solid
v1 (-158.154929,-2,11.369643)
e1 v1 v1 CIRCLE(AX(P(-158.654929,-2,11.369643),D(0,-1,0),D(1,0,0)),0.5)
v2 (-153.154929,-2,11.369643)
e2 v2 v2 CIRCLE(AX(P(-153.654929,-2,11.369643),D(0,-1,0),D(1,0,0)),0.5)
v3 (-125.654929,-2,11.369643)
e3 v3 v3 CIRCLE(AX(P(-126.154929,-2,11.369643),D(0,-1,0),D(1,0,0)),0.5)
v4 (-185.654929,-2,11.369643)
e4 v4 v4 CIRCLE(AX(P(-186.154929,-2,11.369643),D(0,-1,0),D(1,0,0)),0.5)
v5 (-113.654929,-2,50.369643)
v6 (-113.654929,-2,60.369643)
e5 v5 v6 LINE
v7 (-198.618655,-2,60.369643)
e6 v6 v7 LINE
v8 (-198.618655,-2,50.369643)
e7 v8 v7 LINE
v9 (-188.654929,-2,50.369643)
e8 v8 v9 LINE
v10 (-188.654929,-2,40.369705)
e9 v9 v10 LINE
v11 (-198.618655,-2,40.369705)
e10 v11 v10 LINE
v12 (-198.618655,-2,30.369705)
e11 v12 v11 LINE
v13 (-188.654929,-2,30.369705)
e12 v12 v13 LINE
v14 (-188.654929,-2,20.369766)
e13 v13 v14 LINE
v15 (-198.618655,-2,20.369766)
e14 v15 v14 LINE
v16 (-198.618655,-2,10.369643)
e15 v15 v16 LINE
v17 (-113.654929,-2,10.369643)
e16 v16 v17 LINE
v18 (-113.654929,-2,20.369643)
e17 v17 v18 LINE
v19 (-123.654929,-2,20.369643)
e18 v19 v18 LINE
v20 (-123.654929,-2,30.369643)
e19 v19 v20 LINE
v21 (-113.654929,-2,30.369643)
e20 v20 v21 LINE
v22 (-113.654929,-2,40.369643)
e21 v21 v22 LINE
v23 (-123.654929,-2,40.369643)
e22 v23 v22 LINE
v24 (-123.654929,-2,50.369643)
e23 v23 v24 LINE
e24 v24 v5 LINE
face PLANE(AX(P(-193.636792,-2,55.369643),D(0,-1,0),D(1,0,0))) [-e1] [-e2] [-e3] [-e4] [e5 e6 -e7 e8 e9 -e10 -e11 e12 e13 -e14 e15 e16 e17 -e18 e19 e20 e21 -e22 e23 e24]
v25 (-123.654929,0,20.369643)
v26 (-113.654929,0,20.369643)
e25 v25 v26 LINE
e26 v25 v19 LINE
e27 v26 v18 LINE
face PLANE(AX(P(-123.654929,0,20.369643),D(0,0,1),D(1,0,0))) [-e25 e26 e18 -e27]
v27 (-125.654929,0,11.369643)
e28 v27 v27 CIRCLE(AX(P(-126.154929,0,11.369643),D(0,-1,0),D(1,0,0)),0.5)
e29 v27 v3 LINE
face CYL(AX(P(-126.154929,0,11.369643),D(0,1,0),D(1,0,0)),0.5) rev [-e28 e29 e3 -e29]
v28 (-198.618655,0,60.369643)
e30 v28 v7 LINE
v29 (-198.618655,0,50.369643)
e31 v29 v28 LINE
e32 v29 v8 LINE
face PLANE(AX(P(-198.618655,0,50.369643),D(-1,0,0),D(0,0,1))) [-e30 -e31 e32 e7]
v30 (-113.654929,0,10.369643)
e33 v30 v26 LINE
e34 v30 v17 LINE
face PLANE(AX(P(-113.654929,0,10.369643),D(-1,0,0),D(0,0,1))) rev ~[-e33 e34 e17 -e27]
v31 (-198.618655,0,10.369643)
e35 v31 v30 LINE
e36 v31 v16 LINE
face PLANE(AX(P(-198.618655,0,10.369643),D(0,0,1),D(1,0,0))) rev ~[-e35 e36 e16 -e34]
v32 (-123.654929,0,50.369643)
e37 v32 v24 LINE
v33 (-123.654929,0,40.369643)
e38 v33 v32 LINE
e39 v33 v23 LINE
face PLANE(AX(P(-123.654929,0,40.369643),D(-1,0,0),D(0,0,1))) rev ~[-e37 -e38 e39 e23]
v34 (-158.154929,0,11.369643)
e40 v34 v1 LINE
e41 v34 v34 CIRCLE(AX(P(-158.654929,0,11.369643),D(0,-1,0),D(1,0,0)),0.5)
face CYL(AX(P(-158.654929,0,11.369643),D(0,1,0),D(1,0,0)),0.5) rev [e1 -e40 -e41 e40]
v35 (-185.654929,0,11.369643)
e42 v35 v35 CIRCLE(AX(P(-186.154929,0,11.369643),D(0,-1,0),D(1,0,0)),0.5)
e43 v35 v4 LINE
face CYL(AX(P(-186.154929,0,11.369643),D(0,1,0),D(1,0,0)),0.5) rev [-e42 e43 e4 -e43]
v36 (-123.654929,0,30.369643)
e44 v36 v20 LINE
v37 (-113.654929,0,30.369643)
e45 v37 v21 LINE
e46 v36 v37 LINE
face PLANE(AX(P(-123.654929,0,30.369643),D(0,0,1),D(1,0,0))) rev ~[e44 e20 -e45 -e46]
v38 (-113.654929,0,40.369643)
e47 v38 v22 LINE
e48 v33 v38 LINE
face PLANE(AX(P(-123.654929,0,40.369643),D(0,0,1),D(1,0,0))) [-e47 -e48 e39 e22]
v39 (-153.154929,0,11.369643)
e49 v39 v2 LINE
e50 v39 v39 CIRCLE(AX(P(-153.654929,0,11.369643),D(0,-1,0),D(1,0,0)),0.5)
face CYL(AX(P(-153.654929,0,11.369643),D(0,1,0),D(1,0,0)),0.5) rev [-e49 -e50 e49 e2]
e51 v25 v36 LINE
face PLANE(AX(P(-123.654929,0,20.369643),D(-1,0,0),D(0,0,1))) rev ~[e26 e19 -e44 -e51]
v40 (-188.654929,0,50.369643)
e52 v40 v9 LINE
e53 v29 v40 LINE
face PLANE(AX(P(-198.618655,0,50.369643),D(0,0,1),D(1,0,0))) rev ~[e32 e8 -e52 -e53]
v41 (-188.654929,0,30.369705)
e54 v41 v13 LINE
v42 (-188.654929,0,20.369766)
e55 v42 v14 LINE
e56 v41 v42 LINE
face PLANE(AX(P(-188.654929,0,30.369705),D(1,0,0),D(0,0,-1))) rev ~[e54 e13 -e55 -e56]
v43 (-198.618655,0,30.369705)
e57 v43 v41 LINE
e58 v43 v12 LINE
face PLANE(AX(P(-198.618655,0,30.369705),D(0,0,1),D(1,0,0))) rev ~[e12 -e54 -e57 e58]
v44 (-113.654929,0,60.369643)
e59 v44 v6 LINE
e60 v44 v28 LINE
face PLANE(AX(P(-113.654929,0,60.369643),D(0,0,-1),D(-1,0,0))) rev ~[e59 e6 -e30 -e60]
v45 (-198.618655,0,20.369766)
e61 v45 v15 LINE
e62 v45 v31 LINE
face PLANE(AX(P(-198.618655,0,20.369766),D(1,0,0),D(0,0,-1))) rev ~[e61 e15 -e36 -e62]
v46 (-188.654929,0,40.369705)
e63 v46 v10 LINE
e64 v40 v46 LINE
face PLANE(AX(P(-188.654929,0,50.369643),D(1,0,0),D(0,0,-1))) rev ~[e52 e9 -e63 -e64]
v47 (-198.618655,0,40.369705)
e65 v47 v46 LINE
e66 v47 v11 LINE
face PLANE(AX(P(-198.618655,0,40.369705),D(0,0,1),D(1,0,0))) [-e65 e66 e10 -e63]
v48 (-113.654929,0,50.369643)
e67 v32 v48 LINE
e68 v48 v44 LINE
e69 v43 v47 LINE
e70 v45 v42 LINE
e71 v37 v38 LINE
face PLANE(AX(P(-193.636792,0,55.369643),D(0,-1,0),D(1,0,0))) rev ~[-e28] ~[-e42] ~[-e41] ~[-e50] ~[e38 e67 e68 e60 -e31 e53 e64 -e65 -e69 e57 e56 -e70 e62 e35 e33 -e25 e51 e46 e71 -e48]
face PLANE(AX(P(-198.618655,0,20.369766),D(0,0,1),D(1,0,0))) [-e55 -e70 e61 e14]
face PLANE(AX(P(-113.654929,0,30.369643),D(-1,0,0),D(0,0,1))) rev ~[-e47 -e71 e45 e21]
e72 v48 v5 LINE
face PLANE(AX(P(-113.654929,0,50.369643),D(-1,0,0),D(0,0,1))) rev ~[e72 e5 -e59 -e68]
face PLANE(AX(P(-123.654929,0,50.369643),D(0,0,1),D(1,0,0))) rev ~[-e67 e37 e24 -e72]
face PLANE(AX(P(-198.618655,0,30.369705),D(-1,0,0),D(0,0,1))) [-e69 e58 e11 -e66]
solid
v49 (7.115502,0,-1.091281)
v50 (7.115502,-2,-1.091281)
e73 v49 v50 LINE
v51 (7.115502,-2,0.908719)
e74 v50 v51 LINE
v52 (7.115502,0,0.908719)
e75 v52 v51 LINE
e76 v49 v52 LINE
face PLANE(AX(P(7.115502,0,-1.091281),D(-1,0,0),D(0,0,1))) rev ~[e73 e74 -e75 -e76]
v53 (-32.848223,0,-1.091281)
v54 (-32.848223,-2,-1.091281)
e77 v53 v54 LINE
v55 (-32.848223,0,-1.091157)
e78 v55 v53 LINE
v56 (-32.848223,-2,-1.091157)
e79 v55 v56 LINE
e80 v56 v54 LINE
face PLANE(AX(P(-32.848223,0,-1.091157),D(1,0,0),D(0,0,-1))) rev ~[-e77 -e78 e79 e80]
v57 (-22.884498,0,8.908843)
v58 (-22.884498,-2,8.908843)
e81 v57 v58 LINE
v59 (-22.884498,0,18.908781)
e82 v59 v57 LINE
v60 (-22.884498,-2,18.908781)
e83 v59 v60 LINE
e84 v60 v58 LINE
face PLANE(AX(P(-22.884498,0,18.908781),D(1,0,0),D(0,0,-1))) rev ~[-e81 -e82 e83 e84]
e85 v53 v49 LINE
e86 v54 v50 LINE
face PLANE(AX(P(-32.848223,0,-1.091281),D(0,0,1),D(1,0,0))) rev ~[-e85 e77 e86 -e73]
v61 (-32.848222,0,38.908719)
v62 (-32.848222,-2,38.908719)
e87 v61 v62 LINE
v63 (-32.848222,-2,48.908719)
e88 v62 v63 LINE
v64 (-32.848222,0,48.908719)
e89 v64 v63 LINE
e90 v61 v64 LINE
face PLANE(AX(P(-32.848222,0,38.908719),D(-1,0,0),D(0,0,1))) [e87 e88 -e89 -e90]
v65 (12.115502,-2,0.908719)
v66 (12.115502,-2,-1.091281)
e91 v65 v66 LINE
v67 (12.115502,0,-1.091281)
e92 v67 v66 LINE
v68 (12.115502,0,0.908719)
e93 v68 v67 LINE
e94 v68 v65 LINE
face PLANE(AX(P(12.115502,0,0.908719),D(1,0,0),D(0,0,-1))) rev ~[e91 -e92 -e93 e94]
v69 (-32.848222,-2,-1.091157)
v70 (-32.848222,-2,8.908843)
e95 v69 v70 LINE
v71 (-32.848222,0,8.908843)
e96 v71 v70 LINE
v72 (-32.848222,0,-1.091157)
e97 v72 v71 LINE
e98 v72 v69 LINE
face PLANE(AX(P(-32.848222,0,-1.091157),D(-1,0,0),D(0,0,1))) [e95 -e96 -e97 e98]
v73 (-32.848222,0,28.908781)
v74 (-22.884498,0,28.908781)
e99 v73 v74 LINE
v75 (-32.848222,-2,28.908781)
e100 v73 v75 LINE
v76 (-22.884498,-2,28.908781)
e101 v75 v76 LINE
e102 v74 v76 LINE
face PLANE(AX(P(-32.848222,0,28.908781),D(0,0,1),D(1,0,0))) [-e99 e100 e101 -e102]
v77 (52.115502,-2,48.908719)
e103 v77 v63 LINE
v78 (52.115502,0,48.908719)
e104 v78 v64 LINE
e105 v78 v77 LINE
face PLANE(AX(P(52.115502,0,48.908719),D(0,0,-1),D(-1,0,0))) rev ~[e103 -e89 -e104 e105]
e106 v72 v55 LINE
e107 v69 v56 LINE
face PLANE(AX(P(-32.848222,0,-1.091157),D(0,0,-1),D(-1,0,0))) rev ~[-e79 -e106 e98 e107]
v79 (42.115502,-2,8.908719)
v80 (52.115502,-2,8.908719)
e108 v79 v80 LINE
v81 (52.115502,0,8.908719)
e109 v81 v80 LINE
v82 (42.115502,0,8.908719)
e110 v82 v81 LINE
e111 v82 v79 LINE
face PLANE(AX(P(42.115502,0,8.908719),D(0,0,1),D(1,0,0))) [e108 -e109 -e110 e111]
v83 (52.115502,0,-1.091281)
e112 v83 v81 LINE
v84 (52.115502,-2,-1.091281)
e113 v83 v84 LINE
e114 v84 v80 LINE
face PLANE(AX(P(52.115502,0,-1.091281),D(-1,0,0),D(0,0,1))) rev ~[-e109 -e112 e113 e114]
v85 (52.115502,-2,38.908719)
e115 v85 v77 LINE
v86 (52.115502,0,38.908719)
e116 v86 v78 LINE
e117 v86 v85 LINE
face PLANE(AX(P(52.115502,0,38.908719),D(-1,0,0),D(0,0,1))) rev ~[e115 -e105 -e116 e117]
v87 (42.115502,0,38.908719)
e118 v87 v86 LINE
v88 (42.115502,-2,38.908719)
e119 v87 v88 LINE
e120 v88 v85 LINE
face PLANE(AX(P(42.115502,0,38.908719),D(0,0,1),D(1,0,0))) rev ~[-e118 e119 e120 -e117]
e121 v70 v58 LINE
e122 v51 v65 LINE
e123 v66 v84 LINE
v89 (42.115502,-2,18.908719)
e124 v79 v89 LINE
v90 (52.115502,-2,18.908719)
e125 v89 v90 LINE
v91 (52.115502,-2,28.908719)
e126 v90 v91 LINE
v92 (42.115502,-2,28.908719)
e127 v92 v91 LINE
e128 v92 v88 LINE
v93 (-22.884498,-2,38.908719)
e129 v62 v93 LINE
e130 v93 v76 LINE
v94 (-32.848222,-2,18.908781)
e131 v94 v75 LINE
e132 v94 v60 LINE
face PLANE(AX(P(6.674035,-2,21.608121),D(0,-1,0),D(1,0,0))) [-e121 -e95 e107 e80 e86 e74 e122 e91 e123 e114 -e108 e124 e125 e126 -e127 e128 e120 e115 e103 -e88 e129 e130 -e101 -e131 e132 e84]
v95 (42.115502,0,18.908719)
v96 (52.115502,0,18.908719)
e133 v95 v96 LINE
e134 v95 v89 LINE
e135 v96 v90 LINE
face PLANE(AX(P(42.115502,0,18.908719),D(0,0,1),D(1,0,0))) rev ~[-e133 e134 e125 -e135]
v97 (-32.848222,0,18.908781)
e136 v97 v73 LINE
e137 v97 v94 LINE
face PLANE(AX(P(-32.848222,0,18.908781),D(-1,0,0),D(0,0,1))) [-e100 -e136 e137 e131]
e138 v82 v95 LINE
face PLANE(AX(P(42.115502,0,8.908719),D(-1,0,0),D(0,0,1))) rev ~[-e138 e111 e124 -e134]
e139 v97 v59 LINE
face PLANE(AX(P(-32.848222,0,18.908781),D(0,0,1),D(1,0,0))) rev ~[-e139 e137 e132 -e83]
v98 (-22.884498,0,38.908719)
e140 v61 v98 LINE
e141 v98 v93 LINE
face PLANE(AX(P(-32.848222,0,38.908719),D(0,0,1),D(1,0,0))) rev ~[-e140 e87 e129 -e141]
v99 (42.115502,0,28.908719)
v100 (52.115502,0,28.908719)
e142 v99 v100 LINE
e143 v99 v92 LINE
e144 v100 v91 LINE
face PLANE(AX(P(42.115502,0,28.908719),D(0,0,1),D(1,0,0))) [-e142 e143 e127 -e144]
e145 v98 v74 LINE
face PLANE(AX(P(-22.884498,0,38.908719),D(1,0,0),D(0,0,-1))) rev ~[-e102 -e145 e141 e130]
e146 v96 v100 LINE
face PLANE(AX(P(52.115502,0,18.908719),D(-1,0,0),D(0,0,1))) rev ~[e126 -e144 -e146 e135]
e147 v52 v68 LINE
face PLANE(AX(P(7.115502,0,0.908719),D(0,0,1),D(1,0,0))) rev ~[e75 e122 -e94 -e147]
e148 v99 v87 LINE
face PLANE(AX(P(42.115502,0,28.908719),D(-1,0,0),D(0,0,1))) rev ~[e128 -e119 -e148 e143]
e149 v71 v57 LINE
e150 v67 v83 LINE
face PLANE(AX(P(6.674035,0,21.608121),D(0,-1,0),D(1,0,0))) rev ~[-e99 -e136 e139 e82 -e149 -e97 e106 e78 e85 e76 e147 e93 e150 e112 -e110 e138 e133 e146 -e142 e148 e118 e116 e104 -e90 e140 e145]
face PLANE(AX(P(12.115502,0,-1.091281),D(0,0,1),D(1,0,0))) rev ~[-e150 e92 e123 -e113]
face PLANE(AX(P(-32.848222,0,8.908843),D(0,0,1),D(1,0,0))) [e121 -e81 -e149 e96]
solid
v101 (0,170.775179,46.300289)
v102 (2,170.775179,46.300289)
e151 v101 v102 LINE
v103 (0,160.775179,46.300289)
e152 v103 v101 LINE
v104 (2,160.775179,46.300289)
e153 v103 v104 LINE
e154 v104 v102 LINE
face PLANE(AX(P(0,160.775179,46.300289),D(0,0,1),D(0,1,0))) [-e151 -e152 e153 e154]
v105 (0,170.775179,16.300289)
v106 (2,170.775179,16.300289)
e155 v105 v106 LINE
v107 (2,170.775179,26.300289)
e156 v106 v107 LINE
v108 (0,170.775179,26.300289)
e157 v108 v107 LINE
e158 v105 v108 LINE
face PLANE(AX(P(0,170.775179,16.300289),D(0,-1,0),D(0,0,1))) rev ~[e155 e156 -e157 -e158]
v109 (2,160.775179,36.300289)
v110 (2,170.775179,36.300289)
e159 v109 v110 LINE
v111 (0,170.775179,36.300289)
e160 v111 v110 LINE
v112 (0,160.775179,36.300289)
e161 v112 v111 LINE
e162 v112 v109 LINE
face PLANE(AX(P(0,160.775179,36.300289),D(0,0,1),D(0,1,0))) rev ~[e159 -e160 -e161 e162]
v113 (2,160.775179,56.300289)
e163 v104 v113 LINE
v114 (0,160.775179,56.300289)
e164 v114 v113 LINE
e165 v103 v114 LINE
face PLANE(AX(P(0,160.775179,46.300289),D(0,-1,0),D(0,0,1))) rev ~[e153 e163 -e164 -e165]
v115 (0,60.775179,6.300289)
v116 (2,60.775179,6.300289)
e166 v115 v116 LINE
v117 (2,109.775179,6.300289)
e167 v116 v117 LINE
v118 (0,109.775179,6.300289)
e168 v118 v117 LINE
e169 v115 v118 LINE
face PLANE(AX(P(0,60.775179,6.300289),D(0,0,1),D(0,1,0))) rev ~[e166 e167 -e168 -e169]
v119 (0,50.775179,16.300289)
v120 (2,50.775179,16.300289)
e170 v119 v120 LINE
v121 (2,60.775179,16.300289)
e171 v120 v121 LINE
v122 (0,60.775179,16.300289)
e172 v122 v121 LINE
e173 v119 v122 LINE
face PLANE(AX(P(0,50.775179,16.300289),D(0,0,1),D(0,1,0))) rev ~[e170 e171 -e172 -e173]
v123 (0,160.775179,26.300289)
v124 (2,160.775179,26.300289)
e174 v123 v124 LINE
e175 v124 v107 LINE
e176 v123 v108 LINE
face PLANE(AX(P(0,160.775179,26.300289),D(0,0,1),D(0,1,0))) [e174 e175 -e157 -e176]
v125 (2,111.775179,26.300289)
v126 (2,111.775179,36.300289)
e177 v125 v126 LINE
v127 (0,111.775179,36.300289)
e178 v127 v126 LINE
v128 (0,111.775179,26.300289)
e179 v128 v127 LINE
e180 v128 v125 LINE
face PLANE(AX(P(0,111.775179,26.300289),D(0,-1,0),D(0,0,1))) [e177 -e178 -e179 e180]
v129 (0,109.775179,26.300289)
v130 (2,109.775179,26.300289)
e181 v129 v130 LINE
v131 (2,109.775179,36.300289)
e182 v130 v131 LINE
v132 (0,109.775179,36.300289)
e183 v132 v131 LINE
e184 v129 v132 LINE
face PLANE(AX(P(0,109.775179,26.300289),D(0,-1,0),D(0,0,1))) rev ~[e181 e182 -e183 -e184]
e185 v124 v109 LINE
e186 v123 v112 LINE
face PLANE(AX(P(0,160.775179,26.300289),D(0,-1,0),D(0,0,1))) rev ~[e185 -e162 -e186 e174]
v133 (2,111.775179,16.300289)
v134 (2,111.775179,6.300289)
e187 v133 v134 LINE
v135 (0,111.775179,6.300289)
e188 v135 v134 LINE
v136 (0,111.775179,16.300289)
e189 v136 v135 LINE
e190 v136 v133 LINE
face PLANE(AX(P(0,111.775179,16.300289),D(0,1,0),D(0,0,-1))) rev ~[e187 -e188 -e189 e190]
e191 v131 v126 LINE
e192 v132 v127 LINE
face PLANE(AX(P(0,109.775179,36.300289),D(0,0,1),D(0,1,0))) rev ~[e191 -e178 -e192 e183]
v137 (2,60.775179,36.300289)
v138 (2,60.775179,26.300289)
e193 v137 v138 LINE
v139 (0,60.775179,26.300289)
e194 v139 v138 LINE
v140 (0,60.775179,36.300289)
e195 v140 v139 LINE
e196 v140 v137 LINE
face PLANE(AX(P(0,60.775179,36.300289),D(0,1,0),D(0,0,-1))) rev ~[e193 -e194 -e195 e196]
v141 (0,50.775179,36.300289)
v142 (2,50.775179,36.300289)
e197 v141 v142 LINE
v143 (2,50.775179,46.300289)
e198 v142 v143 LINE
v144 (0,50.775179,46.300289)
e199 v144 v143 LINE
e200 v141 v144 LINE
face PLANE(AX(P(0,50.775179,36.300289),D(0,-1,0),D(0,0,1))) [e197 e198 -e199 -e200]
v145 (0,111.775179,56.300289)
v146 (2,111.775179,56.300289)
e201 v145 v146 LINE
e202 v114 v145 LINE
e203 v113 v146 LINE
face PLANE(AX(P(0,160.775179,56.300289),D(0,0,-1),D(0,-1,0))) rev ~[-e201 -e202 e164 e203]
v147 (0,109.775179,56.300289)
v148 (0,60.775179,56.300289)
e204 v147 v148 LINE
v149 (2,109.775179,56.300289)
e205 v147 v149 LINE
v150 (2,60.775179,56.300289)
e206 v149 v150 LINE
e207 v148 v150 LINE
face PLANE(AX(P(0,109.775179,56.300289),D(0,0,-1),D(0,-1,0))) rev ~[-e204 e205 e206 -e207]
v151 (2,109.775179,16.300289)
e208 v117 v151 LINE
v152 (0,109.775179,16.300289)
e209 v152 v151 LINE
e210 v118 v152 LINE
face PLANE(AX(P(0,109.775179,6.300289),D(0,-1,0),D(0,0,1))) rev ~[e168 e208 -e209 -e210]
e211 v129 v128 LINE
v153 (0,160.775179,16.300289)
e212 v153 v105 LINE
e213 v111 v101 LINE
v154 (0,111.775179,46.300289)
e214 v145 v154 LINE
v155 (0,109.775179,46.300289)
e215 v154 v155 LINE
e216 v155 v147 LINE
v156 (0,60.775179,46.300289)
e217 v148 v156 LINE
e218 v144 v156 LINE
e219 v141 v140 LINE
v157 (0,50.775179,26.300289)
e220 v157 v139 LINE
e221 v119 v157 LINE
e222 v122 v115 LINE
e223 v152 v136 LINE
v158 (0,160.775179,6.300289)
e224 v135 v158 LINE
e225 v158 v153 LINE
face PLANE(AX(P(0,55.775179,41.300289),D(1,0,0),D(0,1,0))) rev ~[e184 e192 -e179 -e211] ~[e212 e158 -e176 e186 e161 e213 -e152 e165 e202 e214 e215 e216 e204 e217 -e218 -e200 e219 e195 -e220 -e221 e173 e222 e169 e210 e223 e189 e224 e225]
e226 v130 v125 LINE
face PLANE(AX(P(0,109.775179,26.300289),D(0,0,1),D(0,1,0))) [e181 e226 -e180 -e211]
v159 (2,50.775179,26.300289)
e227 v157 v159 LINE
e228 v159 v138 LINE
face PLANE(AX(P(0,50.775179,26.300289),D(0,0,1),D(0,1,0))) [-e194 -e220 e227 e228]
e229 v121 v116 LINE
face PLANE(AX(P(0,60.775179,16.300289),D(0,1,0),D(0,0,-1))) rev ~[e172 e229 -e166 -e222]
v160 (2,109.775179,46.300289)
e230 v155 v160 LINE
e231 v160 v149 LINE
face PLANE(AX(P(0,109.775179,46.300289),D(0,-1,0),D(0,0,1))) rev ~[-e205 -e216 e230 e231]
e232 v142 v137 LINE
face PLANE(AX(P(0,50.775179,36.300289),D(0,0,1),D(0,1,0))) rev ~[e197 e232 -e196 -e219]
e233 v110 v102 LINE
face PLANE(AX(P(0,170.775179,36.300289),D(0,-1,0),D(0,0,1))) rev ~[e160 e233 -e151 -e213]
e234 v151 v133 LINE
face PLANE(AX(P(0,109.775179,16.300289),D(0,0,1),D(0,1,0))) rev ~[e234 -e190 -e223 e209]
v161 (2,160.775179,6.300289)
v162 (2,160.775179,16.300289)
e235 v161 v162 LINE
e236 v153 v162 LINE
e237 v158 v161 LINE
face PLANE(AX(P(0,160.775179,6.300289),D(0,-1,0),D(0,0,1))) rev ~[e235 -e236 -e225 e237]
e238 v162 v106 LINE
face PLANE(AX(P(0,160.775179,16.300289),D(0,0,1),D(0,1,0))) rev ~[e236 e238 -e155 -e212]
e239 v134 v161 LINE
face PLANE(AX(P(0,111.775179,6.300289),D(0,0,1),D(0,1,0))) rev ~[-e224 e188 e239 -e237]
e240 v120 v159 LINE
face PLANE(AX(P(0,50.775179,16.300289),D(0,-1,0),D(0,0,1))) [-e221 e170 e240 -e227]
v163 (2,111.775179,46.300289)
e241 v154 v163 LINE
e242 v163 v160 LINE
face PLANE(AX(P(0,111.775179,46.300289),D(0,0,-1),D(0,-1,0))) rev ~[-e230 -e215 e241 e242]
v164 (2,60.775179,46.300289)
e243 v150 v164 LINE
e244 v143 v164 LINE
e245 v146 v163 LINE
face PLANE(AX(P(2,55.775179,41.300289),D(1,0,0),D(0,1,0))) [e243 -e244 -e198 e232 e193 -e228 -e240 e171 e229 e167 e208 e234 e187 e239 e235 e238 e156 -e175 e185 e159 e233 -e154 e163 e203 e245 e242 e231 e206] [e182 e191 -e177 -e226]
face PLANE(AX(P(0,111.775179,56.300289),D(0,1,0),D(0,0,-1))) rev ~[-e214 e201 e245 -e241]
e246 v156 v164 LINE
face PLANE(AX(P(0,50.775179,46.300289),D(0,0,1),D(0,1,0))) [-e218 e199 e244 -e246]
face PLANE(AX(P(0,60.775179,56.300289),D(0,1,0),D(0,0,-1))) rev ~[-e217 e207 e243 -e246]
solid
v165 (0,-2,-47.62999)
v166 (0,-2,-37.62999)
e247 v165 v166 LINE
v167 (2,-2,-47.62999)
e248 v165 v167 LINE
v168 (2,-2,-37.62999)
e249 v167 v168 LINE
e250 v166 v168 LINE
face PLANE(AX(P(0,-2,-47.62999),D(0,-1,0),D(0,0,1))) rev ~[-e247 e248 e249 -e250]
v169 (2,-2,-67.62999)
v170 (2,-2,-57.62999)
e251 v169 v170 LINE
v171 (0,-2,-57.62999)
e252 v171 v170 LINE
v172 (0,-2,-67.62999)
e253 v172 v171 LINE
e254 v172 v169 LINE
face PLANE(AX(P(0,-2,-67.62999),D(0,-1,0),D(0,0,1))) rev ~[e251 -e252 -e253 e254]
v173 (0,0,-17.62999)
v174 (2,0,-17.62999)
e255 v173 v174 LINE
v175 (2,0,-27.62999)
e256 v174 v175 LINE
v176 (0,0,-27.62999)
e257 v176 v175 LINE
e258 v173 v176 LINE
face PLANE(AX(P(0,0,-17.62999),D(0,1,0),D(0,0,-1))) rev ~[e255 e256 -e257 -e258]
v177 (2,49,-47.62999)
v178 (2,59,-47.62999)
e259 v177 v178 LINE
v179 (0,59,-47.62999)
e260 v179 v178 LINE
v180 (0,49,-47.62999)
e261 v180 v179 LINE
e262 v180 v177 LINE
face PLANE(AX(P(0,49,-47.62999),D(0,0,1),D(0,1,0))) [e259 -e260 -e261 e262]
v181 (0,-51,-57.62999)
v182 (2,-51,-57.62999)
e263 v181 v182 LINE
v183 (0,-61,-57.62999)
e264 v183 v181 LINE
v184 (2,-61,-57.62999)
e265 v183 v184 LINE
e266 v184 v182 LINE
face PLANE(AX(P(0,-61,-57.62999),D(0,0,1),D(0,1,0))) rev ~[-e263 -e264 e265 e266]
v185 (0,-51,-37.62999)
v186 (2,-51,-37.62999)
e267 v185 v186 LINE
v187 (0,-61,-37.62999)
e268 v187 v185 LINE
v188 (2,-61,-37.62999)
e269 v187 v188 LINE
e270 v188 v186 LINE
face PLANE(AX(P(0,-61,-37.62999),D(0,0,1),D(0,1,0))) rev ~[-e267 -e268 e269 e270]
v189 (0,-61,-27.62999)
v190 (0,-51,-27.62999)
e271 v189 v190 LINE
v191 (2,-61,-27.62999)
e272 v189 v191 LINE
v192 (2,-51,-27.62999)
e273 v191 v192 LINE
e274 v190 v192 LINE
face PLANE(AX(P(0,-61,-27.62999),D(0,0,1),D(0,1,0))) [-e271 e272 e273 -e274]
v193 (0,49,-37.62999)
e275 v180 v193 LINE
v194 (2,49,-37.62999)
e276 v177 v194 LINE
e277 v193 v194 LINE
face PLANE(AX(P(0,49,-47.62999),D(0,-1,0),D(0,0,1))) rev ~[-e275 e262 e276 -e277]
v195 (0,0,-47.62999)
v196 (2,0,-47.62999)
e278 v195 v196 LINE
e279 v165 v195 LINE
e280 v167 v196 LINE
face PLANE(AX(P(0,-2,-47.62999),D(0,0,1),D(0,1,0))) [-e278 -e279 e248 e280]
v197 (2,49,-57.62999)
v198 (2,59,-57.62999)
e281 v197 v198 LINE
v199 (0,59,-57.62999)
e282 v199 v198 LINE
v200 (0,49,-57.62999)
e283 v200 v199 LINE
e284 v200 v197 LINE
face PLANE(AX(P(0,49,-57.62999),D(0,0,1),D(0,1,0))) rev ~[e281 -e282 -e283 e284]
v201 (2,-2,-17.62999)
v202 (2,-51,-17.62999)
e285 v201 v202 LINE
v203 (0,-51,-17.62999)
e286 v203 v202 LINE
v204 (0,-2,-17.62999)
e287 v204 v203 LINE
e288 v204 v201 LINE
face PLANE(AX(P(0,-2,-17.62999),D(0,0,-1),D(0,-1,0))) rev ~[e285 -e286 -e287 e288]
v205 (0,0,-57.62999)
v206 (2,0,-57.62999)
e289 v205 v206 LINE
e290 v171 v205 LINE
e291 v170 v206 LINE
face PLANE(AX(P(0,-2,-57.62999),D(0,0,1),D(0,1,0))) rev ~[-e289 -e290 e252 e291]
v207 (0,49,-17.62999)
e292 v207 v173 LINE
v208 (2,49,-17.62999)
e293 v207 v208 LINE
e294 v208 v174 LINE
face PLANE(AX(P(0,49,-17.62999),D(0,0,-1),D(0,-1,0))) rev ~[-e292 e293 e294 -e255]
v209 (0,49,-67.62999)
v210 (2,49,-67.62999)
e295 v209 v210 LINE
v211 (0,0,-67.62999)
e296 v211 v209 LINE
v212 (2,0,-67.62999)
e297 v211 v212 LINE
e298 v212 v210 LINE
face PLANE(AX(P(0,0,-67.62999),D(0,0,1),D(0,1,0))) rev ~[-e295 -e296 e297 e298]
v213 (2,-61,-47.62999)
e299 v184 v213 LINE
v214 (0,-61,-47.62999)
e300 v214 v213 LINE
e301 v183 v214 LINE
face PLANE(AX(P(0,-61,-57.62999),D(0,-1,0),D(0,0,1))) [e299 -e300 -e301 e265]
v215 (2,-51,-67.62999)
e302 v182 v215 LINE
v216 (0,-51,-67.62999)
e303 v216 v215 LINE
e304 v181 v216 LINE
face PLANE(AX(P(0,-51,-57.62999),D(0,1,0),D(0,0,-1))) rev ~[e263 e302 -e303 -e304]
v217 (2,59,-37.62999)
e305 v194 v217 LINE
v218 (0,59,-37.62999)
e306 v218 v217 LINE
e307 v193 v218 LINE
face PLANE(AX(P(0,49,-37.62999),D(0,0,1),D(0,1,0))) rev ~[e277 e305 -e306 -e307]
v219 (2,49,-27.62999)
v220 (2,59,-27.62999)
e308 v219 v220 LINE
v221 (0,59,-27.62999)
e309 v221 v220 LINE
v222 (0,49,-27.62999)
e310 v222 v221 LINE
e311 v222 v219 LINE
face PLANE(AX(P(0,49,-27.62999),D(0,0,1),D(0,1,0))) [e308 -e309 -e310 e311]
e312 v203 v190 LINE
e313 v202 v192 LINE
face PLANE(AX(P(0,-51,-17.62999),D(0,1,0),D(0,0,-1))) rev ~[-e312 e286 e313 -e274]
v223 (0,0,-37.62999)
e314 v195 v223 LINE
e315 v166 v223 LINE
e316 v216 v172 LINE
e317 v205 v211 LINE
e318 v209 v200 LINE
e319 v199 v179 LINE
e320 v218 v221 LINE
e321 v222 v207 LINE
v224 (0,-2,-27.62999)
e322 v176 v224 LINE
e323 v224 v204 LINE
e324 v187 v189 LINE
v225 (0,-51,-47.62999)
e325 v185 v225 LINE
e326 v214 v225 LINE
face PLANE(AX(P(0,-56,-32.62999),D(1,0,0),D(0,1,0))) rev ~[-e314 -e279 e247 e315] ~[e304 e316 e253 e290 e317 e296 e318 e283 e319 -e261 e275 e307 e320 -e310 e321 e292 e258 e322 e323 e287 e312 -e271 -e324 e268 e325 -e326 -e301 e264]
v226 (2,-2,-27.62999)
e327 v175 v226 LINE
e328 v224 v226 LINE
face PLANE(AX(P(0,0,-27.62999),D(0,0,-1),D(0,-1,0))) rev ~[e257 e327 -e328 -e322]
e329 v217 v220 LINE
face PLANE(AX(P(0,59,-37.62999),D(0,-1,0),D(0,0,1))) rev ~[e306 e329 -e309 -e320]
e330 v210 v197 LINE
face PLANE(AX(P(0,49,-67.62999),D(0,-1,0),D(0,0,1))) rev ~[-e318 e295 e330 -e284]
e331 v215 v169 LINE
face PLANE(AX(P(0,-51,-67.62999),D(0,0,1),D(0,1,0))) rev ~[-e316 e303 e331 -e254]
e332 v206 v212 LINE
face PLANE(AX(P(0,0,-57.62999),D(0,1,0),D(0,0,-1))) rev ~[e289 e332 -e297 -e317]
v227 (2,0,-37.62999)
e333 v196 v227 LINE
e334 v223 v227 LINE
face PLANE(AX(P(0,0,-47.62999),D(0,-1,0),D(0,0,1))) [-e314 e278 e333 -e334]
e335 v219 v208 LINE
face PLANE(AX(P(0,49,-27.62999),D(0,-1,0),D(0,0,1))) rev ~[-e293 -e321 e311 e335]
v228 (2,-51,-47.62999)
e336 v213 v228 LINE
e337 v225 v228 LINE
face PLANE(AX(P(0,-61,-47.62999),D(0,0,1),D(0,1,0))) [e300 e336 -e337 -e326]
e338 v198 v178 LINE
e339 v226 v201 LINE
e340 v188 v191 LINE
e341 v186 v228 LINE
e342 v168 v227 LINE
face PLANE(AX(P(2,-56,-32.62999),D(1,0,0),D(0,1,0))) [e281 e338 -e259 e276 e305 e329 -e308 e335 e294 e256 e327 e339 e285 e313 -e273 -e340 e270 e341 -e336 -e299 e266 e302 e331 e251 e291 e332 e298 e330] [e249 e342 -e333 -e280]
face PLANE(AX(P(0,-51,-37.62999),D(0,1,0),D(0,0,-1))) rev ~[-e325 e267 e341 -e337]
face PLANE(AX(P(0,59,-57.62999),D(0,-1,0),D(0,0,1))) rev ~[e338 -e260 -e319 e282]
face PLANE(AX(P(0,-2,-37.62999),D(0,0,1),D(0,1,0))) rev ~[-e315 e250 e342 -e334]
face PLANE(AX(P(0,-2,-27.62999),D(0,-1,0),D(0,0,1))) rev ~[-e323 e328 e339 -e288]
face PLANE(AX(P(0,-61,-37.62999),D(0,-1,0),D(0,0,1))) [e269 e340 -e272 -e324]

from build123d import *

# Parameters (mm, degrees)
F0_W     = 9.963726
F0_H     = 10
F0_W_2   = 10
F0_R     = 0.5
F0_W_3   = 5
F0_H_2   = 2
F1_DEPTH = 2
F2_R     = 0.5
F2_W     = 10
F2_H     = 10
F2_W_2   = 9.963725
F3_DEPTH = 2
F4_W     = 10
F4_H     = 10
F4_W_2   = 2
F5_DEPTH = 2
F6_W     = 10
F6_H     = 10
F6_W_2   = 2
F7_DEPTH = 2


with BuildPart() as f1:
    # F0 (on Front) → F1 (new body)
    with BuildSketch(Plane.XZ):
        with Locations((-193.636792, 55.369643)):
            Rectangle(F0_W, F0_H)
        with Locations((-193.636792, 35.369705)):
            Rectangle(F0_W, F0_H)
        with Locations((-193.636792, 15.369766)):
            Rectangle(F0_W, F0_H)
        with Locations((-118.654929, 55.369643)):
            Rectangle(F0_W_2, F0_H)
        with Locations((-118.654929, 35.369643)):
            Rectangle(F0_W_2, F0_H)
        with Locations((-118.654929, 15.369643)):
            Rectangle(F0_W_2, F0_H)
        Polygon((-158.654929, 60.369643), (-188.654929, 60.369643), (-188.654929, 50.369643), (-188.654929, 40.369705), (-188.654929, 30.369705), (-188.654929, 20.369766), (-188.654929, 10.369766), (-198.618655, 10.369766), (-198.618655, 10.369643), (-123.654929, 10.369643), (-123.654929, 20.369643), (-123.654929, 30.369643), (-123.654929, 40.369643), (-123.654929, 50.369643), (-123.654929, 60.369643), (-153.654929, 60.369643), (-153.654929, 58.369643), (-158.654929, 58.369643), align=None)
        with Locations((-186.154929, 11.369643)):
            Circle(F0_R, mode=Mode.SUBTRACT)
        with Locations((-158.654929, 11.369643)):
            Circle(F0_R, mode=Mode.SUBTRACT)
        with Locations((-153.654929, 11.369643)):
            Circle(F0_R, mode=Mode.SUBTRACT)
        with Locations((-126.154929, 11.369643)):
            Circle(F0_R, mode=Mode.SUBTRACT)
        with Locations((-156.154929, 59.369643)):
            Rectangle(F0_W_3, F0_H_2)
    extrude(amount=F1_DEPTH)


with BuildPart() as f3:
    # F2 (on Front) → F3 (new body)
    with BuildSketch(Plane.XZ):
        Polygon((7.115502, 48.908719), (-22.884498, 48.908719), (-22.884498, 38.908719), (-22.884498, 28.908781), (-22.884498, 18.908781), (-22.884498, 8.908843), (-22.884498, -1.091157), (-32.848223, -1.091157), (-32.848223, -1.091281), (7.115502, -1.091281), (7.115502, 0.908719), (12.115502, 0.908719), (12.115502, -1.091281), (42.115502, -1.091281), (42.115502, 8.908719), (42.115502, 18.908719), (42.115502, 28.908719), (42.115502, 38.908719), (42.115502, 48.908719), (12.115502, 48.908719), align=None)
        with Locations((-20.384498, 3.908719)):
            Circle(F2_R, mode=Mode.SUBTRACT)
        with Locations((7.115502, 3.908719)):
            Circle(F2_R, mode=Mode.SUBTRACT)
        with Locations((12.115502, 3.908719)):
            Circle(F2_R, mode=Mode.SUBTRACT)
        with Locations((39.615502, 3.908719)):
            Circle(F2_R, mode=Mode.SUBTRACT)
        with Locations((47.115502, 43.908719)):
            Rectangle(F2_W, F2_H)
        with Locations((47.115502, 23.908719)):
            Rectangle(F2_W, F2_H)
        with Locations((47.115502, 3.908719)):
            Rectangle(F2_W, F2_H)
        with Locations((-27.86636, 43.908719)):
            Rectangle(F2_W_2, F2_H)
        with Locations((-27.86636, 23.908781)):
            Rectangle(F2_W_2, F2_H)
        with Locations((-27.86636, 3.908843)):
            Rectangle(F2_W_2, F2_H)
        with Locations((-20.384498, 3.908719)):
            Circle(F2_R)
        with Locations((7.115502, 3.908719)):
            Circle(F2_R)
        with Locations((12.115502, 3.908719)):
            Circle(F2_R)
        with Locations((39.615502, 3.908719)):
            Circle(F2_R)
    extrude(amount=F3_DEPTH)


with BuildPart() as f5:
    # F4 (on Right) → F5 (new body)
    with BuildSketch(Plane.YZ):
        with Locations((-56, -32.62999)):
            Rectangle(F4_W, F4_H)
        with Locations((-56, -52.62999)):
            Rectangle(F4_W, F4_H)
        with Locations((54, -32.62999)):
            Rectangle(F4_W, F4_H)
        with Locations((54, -52.62999)):
            Rectangle(F4_W, F4_H)
        Polygon((-2, -17.62999), (-51, -17.62999), (-51, -27.62999), (-51, -37.62999), (-51, -47.62999), (-51, -57.62999), (-51, -67.62999), (-2, -67.62999), (-2, -57.62999), (0, -57.62999), (0, -67.62999), (49, -67.62999), (49, -57.62999), (49, -47.62999), (49, -37.62999), (49, -27.62999), (49, -17.62999), (0, -17.62999), (0, -27.62999), (-2, -27.62999), align=None)
        with Locations((-1, -42.62999)):
            Rectangle(F4_W_2, F4_H, mode=Mode.SUBTRACT)
    extrude(amount=F5_DEPTH)


with BuildPart() as f7:
    # F6 (on Right) → F7 (new body)
    with BuildSketch(Plane.YZ):
        with Locations((55.775179, 41.300289)):
            Rectangle(F6_W, F6_H)
        with Locations((55.775179, 21.300289)):
            Rectangle(F6_W, F6_H)
        with Locations((165.775179, 41.300289)):
            Rectangle(F6_W, F6_H)
        with Locations((165.775179, 21.300289)):
            Rectangle(F6_W, F6_H)
        Polygon((109.775179, 56.300289), (60.775179, 56.300289), (60.775179, 46.300289), (60.775179, 36.300289), (60.775179, 26.300289), (60.775179, 16.300289), (60.775179, 6.300289), (109.775179, 6.300289), (109.775179, 16.300289), (111.775179, 16.300289), (111.775179, 6.300289), (160.775179, 6.300289), (160.775179, 16.300289), (160.775179, 26.300289), (160.775179, 36.300289), (160.775179, 46.300289), (160.775179, 56.300289), (111.775179, 56.300289), (111.775179, 46.300289), (109.775179, 46.300289), align=None)
        with Locations((110.775179, 31.300289)):
            Rectangle(F6_W_2, F6_H, mode=Mode.SUBTRACT)
    extrude(amount=F7_DEPTH)


solid = Compound([f1.part, f3.part, f5.part, f7.part])
